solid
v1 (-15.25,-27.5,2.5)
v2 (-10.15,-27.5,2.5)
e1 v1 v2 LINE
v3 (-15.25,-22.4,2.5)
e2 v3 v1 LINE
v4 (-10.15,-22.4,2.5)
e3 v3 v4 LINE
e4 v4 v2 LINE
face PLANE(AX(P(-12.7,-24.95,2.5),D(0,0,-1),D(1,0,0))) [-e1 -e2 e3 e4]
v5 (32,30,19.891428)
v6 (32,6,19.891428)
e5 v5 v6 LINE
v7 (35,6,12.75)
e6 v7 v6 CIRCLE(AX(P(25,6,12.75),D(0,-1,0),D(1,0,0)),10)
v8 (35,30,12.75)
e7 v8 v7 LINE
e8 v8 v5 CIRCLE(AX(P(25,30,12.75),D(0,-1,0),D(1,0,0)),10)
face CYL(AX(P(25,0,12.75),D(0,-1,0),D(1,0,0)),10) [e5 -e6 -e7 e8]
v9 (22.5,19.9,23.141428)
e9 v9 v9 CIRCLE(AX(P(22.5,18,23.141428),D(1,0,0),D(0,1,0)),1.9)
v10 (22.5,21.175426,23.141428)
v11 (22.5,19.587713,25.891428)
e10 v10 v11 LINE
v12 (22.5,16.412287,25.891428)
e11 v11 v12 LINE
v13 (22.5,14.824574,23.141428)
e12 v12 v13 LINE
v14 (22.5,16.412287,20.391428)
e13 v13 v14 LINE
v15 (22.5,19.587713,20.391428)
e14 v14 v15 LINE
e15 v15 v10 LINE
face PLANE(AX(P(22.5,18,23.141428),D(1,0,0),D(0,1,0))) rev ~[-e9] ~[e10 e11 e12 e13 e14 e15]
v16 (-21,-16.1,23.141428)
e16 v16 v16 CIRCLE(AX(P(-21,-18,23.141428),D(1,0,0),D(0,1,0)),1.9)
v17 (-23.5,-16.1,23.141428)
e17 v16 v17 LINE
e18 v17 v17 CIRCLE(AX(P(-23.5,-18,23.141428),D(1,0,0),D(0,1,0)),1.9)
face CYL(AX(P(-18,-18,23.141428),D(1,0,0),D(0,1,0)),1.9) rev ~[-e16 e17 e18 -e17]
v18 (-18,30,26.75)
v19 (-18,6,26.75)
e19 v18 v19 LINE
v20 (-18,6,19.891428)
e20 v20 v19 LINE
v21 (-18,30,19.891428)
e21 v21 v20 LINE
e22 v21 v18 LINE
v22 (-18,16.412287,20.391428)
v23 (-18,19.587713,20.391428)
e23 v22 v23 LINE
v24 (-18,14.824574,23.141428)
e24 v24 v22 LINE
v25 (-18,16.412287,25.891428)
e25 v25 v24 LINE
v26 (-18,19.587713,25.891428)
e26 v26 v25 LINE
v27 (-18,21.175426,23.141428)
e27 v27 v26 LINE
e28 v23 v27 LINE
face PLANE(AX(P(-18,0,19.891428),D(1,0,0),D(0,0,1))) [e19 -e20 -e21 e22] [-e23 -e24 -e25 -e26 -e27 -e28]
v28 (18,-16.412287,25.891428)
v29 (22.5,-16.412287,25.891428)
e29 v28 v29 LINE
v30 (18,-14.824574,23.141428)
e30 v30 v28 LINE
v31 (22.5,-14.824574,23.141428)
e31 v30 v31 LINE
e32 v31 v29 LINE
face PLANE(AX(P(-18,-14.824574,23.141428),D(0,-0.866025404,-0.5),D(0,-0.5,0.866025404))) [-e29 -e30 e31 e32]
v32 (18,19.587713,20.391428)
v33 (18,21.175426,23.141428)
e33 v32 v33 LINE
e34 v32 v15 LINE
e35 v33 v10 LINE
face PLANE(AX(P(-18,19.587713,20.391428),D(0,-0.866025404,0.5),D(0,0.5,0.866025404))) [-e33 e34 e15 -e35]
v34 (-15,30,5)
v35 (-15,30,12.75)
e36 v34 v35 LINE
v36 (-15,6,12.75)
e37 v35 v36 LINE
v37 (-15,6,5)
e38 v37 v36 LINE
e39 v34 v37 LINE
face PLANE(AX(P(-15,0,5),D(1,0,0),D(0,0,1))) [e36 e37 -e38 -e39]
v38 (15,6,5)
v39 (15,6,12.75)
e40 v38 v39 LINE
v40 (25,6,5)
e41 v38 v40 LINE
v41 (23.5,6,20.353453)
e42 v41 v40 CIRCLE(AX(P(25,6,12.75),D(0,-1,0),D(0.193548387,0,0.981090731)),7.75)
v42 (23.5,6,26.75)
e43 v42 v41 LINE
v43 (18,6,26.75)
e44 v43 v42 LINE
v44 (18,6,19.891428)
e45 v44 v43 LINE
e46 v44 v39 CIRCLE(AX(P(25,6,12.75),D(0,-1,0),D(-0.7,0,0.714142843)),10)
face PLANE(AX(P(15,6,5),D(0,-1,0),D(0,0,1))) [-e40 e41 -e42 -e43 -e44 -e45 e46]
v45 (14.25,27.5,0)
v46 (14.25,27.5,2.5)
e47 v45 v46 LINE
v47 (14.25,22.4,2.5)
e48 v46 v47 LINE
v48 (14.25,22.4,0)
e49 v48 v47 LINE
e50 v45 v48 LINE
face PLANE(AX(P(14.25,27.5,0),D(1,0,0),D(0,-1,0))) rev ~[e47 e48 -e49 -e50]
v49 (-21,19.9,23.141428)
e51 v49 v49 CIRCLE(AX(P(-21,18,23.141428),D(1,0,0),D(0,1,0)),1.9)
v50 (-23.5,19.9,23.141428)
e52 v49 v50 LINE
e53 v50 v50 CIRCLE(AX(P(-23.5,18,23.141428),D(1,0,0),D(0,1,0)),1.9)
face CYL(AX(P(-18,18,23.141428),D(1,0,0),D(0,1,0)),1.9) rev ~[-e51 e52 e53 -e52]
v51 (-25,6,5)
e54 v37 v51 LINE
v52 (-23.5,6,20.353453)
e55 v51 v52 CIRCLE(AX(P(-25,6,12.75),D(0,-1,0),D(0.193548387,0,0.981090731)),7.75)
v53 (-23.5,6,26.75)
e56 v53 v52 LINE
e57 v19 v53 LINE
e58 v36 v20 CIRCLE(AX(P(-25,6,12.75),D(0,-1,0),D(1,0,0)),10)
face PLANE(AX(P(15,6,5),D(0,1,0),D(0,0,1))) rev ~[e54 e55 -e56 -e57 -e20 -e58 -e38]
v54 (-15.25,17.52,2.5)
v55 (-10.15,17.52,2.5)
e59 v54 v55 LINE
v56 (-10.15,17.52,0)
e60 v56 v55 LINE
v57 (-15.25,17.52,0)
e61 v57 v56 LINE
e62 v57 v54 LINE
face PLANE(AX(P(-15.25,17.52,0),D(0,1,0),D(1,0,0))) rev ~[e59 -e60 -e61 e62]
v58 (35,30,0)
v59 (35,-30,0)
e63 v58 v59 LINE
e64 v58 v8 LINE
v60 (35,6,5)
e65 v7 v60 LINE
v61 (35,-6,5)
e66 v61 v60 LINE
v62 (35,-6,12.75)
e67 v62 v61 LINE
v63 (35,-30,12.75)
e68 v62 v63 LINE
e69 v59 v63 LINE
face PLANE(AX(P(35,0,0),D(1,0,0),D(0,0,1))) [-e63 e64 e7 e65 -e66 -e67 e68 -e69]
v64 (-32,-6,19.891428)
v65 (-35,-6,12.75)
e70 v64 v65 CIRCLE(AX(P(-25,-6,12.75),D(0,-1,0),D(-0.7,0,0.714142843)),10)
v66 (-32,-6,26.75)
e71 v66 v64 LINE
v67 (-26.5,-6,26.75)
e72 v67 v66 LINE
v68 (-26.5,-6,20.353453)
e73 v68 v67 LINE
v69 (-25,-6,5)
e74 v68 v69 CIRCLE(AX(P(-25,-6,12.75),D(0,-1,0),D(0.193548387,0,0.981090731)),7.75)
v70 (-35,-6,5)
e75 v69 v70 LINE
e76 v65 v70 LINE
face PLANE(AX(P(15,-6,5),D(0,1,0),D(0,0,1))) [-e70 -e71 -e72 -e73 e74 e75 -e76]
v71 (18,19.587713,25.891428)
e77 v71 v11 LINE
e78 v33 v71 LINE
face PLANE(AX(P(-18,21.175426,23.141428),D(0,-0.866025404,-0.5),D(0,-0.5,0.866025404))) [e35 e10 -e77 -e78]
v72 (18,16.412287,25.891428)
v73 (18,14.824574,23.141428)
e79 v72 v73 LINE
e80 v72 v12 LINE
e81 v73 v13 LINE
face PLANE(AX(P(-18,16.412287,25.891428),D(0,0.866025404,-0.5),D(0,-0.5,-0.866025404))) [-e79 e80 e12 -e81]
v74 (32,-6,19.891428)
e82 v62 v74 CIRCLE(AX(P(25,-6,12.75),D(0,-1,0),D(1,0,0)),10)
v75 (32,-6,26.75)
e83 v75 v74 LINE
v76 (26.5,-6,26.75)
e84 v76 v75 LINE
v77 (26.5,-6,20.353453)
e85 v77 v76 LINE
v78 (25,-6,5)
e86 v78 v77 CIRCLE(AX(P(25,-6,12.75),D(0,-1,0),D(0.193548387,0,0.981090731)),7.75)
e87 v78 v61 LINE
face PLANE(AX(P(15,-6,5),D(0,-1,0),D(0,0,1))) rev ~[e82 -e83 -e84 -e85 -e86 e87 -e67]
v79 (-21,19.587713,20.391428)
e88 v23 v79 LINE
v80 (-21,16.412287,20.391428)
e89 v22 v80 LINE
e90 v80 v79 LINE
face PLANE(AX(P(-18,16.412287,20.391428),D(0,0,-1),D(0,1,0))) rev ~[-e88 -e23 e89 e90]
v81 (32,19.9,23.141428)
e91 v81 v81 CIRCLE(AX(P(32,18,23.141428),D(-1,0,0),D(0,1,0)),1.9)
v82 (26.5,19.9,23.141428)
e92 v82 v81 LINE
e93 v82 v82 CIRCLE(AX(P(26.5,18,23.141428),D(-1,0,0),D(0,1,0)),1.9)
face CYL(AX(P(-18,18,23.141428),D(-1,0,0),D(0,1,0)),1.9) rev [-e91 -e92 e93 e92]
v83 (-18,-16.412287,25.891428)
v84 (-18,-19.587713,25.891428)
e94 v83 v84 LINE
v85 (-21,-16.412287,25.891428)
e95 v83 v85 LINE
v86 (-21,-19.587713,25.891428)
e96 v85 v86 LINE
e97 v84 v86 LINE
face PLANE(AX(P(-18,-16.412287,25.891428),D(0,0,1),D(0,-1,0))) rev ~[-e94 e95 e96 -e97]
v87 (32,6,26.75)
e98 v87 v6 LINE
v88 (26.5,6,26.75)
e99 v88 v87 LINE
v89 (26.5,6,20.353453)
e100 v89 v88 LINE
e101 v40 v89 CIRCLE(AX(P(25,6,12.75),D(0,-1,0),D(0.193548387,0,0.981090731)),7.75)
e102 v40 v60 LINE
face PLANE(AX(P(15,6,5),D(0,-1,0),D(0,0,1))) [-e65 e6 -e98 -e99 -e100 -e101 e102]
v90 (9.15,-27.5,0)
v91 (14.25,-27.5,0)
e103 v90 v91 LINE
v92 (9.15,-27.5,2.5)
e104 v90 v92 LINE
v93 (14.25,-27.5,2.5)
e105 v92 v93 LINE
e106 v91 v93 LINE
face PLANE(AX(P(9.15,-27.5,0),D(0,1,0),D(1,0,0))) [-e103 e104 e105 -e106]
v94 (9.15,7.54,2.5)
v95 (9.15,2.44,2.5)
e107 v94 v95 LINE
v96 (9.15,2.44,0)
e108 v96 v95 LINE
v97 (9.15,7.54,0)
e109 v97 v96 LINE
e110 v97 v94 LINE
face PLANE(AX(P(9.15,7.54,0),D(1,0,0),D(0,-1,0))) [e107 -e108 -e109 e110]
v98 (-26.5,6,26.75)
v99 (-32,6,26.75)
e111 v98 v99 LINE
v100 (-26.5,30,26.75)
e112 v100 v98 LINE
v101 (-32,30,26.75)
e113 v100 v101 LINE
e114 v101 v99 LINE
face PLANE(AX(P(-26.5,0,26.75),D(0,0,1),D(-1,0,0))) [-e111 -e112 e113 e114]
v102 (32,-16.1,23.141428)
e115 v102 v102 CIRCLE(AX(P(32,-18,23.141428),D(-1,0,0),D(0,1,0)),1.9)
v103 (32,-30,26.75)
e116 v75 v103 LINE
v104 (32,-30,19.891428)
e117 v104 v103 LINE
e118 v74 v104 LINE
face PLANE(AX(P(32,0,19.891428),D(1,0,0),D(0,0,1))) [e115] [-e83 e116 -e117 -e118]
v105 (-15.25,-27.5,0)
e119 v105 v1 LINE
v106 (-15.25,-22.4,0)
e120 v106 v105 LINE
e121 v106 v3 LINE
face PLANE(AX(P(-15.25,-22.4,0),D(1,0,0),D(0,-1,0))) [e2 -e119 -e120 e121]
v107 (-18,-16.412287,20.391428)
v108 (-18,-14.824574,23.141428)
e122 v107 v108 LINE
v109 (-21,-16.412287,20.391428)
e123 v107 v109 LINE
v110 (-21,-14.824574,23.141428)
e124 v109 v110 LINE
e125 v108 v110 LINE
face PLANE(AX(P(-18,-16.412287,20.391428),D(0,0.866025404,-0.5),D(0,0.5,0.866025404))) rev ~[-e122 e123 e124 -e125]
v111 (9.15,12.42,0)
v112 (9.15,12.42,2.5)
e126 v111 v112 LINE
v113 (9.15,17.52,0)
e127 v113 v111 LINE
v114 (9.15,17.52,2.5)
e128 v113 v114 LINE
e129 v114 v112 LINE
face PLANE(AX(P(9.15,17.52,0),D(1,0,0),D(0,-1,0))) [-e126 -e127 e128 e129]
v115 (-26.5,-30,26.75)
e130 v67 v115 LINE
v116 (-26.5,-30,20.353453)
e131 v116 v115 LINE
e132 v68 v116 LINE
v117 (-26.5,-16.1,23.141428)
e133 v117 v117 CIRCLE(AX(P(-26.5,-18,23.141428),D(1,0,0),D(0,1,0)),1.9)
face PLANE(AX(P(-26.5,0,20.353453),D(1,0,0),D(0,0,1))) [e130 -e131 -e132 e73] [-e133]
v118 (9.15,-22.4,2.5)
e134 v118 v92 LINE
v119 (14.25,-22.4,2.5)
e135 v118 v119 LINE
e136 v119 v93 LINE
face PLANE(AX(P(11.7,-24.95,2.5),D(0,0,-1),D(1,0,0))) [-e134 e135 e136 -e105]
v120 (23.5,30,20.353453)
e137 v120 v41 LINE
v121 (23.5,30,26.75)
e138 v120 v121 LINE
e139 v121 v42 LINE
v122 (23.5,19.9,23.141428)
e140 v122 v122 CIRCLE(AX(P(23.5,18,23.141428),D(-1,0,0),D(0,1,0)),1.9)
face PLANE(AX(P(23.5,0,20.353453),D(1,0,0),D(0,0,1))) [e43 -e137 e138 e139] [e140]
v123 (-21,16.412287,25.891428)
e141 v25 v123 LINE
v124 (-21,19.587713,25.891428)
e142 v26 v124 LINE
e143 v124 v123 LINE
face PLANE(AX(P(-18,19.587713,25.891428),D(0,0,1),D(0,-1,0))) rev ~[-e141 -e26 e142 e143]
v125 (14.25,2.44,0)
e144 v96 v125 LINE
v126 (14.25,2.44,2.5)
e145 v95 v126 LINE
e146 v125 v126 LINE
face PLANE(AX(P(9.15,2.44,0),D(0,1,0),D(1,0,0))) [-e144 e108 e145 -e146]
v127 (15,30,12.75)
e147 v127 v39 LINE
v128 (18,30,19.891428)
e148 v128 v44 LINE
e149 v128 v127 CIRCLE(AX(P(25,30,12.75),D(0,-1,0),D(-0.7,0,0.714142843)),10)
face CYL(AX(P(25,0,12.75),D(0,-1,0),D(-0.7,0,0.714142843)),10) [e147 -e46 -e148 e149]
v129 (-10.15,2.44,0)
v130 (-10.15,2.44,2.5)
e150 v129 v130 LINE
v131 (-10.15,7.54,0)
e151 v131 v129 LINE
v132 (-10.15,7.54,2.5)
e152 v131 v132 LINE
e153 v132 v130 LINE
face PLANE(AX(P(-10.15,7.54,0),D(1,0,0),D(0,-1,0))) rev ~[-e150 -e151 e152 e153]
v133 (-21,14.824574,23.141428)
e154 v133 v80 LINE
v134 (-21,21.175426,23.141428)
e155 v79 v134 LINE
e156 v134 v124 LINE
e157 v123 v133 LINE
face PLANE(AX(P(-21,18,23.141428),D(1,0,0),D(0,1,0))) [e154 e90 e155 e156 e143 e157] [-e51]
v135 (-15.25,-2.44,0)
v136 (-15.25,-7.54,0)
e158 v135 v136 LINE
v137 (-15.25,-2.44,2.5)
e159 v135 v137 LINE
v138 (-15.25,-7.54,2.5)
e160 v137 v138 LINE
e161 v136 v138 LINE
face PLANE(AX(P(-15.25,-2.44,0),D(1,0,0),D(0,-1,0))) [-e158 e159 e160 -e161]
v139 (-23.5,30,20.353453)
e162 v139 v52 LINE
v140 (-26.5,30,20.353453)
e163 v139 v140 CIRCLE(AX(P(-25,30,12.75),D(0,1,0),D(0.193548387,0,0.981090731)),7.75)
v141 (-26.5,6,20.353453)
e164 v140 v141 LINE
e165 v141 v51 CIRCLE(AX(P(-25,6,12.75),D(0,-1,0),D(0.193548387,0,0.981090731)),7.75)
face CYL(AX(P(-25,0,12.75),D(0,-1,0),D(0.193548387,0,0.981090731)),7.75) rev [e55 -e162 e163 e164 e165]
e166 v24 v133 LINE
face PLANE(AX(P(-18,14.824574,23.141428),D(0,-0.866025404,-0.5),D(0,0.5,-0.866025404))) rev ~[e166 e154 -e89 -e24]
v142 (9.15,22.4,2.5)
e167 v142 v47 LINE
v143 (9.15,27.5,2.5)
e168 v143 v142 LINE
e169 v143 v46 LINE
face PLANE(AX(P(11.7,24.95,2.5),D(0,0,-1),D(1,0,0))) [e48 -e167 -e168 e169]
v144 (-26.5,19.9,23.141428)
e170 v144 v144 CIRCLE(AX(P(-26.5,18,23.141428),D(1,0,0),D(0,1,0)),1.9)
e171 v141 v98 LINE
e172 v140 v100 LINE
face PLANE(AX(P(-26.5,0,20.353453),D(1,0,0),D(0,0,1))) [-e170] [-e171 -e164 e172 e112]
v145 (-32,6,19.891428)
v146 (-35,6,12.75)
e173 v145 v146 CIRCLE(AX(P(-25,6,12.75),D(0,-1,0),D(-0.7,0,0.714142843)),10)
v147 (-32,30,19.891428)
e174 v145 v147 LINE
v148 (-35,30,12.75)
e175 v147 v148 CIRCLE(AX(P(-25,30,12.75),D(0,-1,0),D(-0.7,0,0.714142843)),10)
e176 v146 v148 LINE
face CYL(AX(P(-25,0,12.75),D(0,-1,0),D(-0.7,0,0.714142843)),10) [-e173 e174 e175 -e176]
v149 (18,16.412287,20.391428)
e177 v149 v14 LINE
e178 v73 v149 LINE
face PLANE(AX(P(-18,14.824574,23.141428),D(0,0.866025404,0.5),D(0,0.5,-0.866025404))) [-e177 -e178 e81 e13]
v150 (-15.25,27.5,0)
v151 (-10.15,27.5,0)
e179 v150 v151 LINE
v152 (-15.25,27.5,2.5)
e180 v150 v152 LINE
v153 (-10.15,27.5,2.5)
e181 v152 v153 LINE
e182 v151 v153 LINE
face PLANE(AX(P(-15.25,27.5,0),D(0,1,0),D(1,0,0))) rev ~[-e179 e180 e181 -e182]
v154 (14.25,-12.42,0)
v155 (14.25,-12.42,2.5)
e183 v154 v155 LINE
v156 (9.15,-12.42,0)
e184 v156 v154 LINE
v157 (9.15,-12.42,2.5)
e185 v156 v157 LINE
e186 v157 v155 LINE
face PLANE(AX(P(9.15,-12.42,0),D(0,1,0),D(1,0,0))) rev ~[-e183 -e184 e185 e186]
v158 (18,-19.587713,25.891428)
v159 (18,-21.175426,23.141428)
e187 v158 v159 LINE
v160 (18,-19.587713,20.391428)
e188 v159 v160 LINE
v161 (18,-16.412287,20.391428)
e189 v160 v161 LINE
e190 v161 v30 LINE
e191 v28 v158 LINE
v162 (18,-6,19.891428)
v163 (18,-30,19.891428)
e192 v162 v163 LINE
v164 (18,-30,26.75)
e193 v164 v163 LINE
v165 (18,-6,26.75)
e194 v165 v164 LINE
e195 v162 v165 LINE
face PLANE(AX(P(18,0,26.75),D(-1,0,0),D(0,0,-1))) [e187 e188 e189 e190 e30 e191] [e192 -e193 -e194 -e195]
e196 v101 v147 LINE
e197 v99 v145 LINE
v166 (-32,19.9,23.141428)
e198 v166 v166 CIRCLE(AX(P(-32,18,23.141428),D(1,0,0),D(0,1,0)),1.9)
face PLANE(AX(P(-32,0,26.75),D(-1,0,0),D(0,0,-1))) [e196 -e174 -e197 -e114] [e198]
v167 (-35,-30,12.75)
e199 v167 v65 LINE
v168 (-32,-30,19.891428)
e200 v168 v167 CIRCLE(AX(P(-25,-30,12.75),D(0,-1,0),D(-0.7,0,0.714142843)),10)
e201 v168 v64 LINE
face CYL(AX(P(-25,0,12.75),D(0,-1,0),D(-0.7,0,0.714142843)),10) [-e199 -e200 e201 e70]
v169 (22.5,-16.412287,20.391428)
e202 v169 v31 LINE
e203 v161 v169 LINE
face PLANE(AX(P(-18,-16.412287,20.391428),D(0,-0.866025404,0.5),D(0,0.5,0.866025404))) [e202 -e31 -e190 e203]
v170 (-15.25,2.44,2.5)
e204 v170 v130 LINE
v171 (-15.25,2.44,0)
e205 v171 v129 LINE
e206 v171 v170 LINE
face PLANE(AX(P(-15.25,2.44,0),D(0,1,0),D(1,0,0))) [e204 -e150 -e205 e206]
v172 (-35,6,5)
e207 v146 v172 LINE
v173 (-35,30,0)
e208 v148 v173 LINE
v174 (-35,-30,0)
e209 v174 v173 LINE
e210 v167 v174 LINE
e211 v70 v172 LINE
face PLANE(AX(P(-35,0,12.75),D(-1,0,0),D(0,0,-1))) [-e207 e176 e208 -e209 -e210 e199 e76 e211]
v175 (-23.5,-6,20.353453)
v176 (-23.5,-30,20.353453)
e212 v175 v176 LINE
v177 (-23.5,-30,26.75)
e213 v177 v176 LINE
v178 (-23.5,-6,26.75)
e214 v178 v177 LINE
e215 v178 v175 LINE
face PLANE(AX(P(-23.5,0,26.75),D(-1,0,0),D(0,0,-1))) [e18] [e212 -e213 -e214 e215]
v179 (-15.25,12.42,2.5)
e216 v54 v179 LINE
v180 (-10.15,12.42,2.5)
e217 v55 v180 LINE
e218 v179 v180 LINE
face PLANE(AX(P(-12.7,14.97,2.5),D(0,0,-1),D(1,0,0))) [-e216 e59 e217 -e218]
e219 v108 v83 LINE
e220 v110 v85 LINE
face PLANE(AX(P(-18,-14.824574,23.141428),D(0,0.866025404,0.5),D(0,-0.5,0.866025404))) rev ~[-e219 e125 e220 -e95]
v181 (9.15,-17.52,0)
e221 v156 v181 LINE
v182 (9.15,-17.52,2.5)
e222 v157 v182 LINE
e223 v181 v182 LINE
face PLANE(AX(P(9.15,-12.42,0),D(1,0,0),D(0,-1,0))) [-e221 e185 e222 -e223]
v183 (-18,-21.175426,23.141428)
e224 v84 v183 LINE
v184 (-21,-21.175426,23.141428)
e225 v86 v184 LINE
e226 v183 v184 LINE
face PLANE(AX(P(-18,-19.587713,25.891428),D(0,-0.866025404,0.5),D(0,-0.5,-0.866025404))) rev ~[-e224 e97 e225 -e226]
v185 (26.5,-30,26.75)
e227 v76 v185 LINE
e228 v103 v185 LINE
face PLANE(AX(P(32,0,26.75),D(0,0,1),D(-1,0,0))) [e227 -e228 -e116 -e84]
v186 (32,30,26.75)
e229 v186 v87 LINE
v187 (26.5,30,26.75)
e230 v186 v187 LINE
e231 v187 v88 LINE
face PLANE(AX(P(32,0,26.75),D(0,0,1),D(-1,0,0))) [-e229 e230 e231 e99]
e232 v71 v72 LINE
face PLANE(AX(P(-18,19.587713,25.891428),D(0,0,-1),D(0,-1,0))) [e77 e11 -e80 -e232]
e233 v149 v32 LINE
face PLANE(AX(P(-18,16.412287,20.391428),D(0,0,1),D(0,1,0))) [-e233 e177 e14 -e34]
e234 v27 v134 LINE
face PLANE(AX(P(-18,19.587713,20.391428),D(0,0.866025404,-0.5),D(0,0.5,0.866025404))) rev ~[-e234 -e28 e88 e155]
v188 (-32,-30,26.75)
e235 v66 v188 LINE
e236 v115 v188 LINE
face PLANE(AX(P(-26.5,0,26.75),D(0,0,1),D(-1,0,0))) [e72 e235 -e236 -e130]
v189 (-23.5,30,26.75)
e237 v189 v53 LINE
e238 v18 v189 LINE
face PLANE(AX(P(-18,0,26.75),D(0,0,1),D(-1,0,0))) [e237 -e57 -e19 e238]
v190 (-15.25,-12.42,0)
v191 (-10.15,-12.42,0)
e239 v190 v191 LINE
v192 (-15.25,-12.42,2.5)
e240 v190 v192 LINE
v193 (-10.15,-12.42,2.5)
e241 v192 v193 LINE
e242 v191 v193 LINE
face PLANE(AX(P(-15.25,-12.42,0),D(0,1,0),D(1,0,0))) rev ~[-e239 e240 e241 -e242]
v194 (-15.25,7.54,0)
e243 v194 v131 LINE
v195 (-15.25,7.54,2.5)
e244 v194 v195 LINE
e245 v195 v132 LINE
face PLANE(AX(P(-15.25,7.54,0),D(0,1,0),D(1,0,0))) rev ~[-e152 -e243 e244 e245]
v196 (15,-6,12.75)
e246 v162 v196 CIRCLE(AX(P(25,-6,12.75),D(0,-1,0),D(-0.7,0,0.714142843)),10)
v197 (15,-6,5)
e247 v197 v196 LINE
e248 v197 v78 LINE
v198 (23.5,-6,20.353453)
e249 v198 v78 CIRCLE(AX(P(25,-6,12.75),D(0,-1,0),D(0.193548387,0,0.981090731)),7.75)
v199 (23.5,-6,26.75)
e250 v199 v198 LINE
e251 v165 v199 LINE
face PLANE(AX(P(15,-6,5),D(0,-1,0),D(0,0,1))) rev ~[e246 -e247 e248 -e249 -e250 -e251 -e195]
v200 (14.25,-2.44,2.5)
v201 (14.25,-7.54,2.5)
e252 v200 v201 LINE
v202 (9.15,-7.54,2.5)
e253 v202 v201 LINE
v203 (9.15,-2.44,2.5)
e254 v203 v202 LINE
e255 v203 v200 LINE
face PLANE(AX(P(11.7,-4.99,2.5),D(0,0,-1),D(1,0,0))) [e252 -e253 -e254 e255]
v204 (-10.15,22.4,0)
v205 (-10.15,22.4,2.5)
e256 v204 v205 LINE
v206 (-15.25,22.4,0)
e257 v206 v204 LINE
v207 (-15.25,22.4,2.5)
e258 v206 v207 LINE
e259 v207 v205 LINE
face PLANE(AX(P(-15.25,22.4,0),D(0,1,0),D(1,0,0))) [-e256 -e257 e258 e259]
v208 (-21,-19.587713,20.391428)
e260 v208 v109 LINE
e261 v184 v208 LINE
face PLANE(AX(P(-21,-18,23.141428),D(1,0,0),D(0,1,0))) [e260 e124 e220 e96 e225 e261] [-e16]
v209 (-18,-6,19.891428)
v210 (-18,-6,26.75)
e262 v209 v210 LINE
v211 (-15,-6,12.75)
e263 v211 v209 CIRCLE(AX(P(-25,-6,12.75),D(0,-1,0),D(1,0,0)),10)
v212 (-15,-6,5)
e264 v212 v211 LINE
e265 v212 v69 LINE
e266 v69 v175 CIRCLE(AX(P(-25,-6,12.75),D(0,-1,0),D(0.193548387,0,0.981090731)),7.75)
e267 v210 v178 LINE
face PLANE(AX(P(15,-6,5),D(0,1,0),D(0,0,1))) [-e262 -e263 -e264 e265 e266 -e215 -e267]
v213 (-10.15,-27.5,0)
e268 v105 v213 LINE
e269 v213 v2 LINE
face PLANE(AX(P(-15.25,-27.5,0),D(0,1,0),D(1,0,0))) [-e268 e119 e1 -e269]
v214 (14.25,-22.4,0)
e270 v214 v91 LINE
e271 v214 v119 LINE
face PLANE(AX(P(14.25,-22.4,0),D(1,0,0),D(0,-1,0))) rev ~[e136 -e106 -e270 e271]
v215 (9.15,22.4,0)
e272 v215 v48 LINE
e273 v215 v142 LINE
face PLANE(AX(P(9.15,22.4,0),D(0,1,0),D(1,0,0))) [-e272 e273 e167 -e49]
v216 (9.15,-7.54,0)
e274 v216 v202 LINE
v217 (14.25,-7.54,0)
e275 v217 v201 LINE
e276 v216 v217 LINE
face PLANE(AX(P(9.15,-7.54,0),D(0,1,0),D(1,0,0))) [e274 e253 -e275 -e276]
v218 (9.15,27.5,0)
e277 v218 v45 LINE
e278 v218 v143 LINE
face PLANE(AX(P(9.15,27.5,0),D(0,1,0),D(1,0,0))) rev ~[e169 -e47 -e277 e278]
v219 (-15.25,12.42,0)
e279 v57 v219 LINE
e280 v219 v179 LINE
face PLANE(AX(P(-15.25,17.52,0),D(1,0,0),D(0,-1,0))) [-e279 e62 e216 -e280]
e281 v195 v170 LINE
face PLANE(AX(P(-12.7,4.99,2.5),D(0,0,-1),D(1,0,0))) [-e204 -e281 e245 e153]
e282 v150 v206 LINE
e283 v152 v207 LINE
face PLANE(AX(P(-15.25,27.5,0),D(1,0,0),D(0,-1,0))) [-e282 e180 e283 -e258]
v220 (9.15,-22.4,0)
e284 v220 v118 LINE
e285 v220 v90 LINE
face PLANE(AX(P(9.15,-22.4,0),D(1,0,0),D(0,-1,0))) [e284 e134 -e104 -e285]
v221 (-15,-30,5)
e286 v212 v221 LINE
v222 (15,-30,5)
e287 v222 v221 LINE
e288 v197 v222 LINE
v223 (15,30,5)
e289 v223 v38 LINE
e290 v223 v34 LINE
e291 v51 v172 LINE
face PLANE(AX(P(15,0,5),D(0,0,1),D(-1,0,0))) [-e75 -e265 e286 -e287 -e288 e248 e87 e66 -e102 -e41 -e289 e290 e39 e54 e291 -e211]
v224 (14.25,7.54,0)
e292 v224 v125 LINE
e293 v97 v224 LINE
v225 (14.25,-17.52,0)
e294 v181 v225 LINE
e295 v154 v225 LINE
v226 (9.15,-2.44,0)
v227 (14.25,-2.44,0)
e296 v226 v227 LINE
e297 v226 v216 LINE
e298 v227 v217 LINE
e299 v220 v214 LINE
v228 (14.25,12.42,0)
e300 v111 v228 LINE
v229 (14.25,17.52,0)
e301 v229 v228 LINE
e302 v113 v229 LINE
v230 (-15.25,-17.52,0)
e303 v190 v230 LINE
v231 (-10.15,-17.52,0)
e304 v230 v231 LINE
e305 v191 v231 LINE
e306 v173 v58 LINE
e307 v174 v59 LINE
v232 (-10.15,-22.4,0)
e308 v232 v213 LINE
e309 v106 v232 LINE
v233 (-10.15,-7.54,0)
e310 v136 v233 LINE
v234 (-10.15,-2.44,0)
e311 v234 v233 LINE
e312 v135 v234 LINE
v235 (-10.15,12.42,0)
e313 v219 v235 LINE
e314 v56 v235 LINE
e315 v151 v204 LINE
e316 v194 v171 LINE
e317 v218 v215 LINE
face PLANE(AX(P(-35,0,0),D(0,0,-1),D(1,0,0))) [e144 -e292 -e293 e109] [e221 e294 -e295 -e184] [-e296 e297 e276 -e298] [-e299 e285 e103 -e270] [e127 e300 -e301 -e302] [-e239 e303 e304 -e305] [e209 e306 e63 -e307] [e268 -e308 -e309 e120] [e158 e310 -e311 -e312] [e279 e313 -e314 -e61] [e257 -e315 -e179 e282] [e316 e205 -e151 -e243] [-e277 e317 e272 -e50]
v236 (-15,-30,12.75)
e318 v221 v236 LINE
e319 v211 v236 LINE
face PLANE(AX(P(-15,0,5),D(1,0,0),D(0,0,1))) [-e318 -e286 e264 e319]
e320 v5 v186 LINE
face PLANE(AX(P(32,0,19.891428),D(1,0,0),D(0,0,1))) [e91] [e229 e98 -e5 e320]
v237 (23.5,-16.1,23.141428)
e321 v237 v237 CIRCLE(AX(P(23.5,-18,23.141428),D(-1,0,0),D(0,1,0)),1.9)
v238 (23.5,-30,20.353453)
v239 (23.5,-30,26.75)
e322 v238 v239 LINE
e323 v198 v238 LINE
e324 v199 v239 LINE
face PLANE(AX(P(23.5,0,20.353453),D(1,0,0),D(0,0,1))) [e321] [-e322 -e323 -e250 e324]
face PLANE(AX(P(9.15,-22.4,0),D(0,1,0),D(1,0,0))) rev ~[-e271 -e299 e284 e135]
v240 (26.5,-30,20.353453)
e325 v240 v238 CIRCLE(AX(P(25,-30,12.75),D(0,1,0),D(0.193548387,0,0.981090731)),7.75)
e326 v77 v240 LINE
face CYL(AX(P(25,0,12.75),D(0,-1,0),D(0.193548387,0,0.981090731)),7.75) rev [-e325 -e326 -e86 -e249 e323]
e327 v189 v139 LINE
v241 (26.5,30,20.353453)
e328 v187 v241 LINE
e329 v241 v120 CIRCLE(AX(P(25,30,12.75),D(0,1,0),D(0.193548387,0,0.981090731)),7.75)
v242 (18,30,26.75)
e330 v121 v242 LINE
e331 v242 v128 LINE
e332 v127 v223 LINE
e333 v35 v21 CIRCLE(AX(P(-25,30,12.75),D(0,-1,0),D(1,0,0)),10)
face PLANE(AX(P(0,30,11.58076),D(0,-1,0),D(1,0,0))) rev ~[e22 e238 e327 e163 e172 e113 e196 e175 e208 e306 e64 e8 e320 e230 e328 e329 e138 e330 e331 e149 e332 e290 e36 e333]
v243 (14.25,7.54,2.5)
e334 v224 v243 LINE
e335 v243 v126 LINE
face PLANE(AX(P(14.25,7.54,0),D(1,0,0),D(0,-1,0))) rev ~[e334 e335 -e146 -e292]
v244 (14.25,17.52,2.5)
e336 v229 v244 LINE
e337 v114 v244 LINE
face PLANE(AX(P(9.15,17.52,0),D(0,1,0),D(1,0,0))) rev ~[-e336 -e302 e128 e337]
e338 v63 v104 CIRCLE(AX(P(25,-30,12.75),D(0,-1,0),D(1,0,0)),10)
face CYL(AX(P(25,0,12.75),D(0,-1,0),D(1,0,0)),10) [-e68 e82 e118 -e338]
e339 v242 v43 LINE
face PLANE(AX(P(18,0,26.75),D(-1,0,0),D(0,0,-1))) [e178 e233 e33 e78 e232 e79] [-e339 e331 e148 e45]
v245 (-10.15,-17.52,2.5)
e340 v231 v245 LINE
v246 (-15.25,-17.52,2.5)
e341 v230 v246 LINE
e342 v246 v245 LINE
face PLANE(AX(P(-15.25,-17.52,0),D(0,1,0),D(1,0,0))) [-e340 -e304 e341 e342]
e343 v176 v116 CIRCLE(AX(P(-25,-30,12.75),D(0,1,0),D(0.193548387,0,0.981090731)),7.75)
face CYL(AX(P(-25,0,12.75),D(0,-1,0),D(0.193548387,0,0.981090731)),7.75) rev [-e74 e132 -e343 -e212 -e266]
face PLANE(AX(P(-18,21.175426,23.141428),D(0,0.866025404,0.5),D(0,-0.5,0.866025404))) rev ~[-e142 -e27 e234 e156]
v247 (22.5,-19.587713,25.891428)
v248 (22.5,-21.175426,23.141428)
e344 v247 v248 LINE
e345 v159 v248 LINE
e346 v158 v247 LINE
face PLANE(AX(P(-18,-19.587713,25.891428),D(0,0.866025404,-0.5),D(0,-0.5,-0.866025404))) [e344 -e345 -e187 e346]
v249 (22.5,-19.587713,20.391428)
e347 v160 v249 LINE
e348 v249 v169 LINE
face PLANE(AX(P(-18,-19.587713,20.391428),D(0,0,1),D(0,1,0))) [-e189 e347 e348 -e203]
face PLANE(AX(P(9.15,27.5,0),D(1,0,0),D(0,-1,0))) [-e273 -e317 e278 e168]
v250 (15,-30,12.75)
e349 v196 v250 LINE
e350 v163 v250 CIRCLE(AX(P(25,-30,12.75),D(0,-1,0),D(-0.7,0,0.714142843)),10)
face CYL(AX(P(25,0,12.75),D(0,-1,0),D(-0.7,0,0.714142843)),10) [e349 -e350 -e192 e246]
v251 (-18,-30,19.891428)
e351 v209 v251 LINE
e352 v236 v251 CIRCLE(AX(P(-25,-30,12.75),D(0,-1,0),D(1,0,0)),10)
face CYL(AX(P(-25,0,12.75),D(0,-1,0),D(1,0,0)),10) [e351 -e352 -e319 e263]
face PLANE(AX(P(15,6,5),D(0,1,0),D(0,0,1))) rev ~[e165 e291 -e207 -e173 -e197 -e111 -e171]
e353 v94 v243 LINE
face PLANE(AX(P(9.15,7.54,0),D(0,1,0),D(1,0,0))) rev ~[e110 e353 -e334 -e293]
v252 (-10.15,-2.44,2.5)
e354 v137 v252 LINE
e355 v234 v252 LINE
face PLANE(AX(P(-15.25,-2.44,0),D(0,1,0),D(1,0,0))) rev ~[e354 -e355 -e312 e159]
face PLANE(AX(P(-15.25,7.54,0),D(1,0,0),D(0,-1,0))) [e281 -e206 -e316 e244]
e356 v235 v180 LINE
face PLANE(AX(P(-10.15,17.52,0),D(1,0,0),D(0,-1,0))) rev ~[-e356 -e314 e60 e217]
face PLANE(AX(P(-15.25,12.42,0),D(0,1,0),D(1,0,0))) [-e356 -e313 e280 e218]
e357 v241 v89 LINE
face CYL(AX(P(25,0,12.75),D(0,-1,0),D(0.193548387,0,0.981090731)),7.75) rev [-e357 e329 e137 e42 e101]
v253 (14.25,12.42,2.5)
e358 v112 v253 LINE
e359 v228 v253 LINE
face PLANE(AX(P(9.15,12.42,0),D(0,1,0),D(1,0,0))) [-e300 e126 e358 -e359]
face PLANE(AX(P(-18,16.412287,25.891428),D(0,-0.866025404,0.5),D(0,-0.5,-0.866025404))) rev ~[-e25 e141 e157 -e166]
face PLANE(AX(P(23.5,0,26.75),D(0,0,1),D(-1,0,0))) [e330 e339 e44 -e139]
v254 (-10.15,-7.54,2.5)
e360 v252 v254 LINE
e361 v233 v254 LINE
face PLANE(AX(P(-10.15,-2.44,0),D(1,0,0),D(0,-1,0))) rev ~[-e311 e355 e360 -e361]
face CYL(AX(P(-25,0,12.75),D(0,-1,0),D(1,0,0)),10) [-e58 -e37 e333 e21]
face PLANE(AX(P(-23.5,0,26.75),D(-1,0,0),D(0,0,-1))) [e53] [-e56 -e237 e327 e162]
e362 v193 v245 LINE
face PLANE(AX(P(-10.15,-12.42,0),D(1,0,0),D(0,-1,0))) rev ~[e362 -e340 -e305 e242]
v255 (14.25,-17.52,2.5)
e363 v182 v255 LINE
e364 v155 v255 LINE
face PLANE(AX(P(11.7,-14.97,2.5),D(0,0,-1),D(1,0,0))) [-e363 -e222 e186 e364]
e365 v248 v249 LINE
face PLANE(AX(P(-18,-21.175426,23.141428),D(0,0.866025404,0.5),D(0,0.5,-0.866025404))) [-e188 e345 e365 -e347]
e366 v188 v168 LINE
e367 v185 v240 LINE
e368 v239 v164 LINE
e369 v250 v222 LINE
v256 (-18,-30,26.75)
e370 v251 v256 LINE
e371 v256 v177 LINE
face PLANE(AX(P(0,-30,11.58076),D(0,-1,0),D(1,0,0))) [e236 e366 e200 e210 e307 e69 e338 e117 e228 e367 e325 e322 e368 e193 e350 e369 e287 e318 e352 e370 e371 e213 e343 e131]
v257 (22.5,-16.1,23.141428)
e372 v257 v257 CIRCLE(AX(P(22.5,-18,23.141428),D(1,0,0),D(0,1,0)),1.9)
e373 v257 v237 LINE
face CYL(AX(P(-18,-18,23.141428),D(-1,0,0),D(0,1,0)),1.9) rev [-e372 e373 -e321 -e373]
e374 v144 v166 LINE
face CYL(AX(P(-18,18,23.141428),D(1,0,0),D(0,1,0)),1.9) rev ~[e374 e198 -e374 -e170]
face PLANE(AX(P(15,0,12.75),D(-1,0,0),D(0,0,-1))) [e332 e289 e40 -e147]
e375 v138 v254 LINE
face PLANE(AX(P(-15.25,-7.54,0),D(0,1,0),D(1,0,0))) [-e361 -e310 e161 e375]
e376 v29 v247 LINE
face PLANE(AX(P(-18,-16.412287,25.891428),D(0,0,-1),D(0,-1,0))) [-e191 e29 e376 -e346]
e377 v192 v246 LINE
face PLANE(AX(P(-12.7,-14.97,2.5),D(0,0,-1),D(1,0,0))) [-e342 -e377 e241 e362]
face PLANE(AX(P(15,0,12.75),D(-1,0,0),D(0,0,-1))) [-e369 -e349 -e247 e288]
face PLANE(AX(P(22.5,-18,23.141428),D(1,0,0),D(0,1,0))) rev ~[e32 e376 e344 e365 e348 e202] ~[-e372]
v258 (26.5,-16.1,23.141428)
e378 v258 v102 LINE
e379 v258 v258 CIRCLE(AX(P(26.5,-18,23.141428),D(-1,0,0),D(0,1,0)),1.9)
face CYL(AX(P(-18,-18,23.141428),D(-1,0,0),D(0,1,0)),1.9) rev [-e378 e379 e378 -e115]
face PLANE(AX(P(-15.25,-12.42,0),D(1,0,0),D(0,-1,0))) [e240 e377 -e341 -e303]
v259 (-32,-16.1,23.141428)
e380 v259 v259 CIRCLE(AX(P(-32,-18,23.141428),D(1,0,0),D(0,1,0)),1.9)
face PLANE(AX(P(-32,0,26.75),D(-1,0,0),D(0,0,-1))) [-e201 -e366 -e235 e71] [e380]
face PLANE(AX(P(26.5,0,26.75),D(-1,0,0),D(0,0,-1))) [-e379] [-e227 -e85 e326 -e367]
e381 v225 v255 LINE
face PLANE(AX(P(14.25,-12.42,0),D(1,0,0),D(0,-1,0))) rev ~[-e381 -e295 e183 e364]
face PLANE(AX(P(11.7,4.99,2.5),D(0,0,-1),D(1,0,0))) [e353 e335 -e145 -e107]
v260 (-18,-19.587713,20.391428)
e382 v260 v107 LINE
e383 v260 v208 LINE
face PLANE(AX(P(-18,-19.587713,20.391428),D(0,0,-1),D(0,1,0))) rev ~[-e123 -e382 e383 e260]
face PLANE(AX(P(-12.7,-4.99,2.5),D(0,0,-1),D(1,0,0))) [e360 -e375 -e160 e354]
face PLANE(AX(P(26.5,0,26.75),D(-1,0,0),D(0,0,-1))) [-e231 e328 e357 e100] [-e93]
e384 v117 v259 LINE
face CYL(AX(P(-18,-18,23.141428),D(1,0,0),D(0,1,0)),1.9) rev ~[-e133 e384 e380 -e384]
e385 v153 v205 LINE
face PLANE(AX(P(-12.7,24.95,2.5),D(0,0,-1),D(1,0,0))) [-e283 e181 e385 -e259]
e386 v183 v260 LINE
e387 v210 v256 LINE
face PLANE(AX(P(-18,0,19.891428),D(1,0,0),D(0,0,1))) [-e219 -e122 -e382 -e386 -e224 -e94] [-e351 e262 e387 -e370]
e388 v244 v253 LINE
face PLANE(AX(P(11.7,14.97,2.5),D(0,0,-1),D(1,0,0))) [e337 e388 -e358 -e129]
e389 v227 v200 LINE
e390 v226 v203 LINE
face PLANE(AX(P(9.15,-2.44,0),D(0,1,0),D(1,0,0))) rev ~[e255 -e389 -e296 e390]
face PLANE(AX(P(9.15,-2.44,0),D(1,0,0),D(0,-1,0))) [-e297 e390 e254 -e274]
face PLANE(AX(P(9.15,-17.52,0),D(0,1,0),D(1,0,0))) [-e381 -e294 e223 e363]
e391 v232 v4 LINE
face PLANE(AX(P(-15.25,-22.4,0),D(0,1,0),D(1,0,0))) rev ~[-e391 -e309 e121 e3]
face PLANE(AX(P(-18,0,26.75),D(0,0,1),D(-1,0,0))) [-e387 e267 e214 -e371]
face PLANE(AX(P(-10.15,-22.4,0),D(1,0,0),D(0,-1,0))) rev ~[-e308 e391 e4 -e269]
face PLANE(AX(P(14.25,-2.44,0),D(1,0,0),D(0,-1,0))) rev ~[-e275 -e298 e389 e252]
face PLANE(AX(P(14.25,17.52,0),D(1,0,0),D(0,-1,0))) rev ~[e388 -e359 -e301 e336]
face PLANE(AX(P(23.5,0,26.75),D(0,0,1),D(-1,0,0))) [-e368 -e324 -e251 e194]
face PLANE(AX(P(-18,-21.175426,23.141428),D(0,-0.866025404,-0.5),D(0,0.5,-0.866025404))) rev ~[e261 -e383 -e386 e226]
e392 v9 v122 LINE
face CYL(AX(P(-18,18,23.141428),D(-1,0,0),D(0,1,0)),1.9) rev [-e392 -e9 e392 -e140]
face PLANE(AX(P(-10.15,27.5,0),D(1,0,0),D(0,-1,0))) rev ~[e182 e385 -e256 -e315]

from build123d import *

# Parameters (mm, degrees)
F1_DEPTH      = 30
F2_W          = 12
F2_H          = 21.75
F3_DEPTH      = 20.001
F3_DEPTH_BACK = 50.001
F4_R          = 1.9
F5_DEPTH      = 3
F5_DEPTH_BACK = 40.5
F6_DEPTH      = 17.001
F6_DEPTH_BACK = 53.001
F7_W          = 5.1
F7_H          = 5.1
F8_DEPTH      = 2.5


with BuildPart() as f1:
    # F0 (on Front) → F1 (new body, symmetric)
    with BuildSketch(Plane.XZ):
        with BuildLine():
            Line((-35, 0), (0, 0))
            Line((0, 0), (35, 0))
            Line((35, 0), (35, 12.75))
            ThreePointArc((35, 12.75), (34.2195444573, 16.6229833462), (32, 19.8914284285))
            Line((32, 19.8914284285), (32, 26.75))
            Line((32, 26.75), (26.5, 26.75))
            Line((26.5, 26.75), (26.5, 20.3534531629))
            ThreePointArc((26.5, 20.3534531629), (25, 5), (23.5, 20.3534531629))
            Line((23.5, 20.3534531629), (23.5, 26.75))
            Line((23.5, 26.75), (18, 26.75))
            Line((18, 26.75), (18, 19.8914284285))
            ThreePointArc((18, 19.8914284285), (15.7804555427, 16.6229833462), (15, 12.75))
            Line((15, 12.75), (15, 5))
            Line((15, 5), (0, 5))
            Line((0, 5), (-15, 5))
            Line((-15, 5), (-15, 12.75))
            ThreePointArc((-15, 12.75), (-15.7804555427, 16.6229833462), (-18, 19.8914284285))
            Line((-18, 19.8914284285), (-18, 26.75))
            Line((-18, 26.75), (-23.5, 26.75))
            Line((-23.5, 26.75), (-23.5, 20.3534531629))
            ThreePointArc((-23.5, 20.3534531629), (-25, 5), (-26.5, 20.3534531629))
            Line((-26.5, 20.3534531629), (-26.5, 26.75))
            Line((-26.5, 26.75), (-32, 26.75))
            Line((-32, 26.75), (-32, 19.8914284285))
            ThreePointArc((-32, 19.8914284285), (-34.2195444573, 16.6229833462), (-35, 12.75))
            Line((-35, 12.75), (-35, 0))
        make_face()
    extrude(amount=F1_DEPTH, both=True)

    # F2 (on face) → F3 (cut, two sides)
    with BuildSketch(Plane(origin=(15, 0, 0), x_dir=(0, -1, 0), z_dir=(-1, 0, 0))) as f3_sk:
        with Locations((0, 15.875)):
            Rectangle(F2_W, F2_H)
    extrude(amount=-F3_DEPTH, mode=Mode.SUBTRACT)
    extrude(f3_sk.sketch, amount=F3_DEPTH_BACK, mode=Mode.SUBTRACT)

    # F4 (on face) → F5 (cut, two sides)
    with BuildSketch(Plane.YZ.offset(-18)) as f5_sk:
        Polygon((-16.4122867597, 20.3914284285), (-14.8245735195, 23.1414284285), (-16.4122867597, 25.8914284285), (-19.5877132403, 25.8914284285), (-21.1754264805, 23.1414284285), (-19.5877132403, 20.3914284285), align=None)
        with Locations((-18, 23.1414284285)):
            Circle(F4_R, mode=Mode.SUBTRACT)
        Polygon((19.5877132403, 25.8914284285), (16.4122867597, 25.8914284285), (14.8245735195, 23.1414284285), (16.4122867597, 20.3914284285), (19.5877132403, 20.3914284285), (21.1754264805, 23.1414284285), align=None)
        with Locations((18, 23.1414284285)):
            Circle(F4_R, mode=Mode.SUBTRACT)
    extrude(amount=-F5_DEPTH, mode=Mode.SUBTRACT)
    extrude(f5_sk.sketch, amount=F5_DEPTH_BACK, mode=Mode.SUBTRACT)

    # F4 (on face) → F6 (cut, two sides)
    with BuildSketch(Plane.YZ.offset(-18)) as f6_sk:
        with Locations((18, 23.1414284285)):
            Circle(F4_R)
        with Locations((-18, 23.1414284285)):
            Circle(F4_R)
    extrude(amount=-F6_DEPTH, mode=Mode.SUBTRACT)
    extrude(f6_sk.sketch, amount=F6_DEPTH_BACK, mode=Mode.SUBTRACT)

    # F7 (on face) → F8 (cut)
    with BuildSketch(Plane(origin=(0, 0, 0), x_dir=(1, 0, 0), z_dir=(0, 0, -1))):
        with Locations((-12.7, 24.95)):
            Rectangle(F7_W, F7_H)
        with Locations((11.7, 24.95)):
            Rectangle(F7_W, F7_H)
        with Locations((-12.7, 14.97)):
            Rectangle(F7_W, F7_H)
        with Locations((11.7, 14.97)):
            Rectangle(F7_W, F7_H)
        with Locations((-12.7, 4.99)):
            Rectangle(F7_W, F7_H)
        with Locations((11.7, 4.99)):
            Rectangle(F7_W, F7_H)
        with Locations((-12.7, -4.99)):
            Rectangle(F7_W, F7_H)
        with Locations((11.7, -4.99)):
            Rectangle(F7_W, F7_H)
        with Locations((-12.7, -14.97)):
            Rectangle(F7_W, F7_H)
        with Locations((11.7, -14.97)):
            Rectangle(F7_W, F7_H)
        with Locations((-12.7, -24.95)):
            Rectangle(F7_W, F7_H)
        with Locations((11.7, -24.95)):
            Rectangle(F7_W, F7_H)
    extrude(amount=-F8_DEPTH, mode=Mode.SUBTRACT)


solid = f1.part
